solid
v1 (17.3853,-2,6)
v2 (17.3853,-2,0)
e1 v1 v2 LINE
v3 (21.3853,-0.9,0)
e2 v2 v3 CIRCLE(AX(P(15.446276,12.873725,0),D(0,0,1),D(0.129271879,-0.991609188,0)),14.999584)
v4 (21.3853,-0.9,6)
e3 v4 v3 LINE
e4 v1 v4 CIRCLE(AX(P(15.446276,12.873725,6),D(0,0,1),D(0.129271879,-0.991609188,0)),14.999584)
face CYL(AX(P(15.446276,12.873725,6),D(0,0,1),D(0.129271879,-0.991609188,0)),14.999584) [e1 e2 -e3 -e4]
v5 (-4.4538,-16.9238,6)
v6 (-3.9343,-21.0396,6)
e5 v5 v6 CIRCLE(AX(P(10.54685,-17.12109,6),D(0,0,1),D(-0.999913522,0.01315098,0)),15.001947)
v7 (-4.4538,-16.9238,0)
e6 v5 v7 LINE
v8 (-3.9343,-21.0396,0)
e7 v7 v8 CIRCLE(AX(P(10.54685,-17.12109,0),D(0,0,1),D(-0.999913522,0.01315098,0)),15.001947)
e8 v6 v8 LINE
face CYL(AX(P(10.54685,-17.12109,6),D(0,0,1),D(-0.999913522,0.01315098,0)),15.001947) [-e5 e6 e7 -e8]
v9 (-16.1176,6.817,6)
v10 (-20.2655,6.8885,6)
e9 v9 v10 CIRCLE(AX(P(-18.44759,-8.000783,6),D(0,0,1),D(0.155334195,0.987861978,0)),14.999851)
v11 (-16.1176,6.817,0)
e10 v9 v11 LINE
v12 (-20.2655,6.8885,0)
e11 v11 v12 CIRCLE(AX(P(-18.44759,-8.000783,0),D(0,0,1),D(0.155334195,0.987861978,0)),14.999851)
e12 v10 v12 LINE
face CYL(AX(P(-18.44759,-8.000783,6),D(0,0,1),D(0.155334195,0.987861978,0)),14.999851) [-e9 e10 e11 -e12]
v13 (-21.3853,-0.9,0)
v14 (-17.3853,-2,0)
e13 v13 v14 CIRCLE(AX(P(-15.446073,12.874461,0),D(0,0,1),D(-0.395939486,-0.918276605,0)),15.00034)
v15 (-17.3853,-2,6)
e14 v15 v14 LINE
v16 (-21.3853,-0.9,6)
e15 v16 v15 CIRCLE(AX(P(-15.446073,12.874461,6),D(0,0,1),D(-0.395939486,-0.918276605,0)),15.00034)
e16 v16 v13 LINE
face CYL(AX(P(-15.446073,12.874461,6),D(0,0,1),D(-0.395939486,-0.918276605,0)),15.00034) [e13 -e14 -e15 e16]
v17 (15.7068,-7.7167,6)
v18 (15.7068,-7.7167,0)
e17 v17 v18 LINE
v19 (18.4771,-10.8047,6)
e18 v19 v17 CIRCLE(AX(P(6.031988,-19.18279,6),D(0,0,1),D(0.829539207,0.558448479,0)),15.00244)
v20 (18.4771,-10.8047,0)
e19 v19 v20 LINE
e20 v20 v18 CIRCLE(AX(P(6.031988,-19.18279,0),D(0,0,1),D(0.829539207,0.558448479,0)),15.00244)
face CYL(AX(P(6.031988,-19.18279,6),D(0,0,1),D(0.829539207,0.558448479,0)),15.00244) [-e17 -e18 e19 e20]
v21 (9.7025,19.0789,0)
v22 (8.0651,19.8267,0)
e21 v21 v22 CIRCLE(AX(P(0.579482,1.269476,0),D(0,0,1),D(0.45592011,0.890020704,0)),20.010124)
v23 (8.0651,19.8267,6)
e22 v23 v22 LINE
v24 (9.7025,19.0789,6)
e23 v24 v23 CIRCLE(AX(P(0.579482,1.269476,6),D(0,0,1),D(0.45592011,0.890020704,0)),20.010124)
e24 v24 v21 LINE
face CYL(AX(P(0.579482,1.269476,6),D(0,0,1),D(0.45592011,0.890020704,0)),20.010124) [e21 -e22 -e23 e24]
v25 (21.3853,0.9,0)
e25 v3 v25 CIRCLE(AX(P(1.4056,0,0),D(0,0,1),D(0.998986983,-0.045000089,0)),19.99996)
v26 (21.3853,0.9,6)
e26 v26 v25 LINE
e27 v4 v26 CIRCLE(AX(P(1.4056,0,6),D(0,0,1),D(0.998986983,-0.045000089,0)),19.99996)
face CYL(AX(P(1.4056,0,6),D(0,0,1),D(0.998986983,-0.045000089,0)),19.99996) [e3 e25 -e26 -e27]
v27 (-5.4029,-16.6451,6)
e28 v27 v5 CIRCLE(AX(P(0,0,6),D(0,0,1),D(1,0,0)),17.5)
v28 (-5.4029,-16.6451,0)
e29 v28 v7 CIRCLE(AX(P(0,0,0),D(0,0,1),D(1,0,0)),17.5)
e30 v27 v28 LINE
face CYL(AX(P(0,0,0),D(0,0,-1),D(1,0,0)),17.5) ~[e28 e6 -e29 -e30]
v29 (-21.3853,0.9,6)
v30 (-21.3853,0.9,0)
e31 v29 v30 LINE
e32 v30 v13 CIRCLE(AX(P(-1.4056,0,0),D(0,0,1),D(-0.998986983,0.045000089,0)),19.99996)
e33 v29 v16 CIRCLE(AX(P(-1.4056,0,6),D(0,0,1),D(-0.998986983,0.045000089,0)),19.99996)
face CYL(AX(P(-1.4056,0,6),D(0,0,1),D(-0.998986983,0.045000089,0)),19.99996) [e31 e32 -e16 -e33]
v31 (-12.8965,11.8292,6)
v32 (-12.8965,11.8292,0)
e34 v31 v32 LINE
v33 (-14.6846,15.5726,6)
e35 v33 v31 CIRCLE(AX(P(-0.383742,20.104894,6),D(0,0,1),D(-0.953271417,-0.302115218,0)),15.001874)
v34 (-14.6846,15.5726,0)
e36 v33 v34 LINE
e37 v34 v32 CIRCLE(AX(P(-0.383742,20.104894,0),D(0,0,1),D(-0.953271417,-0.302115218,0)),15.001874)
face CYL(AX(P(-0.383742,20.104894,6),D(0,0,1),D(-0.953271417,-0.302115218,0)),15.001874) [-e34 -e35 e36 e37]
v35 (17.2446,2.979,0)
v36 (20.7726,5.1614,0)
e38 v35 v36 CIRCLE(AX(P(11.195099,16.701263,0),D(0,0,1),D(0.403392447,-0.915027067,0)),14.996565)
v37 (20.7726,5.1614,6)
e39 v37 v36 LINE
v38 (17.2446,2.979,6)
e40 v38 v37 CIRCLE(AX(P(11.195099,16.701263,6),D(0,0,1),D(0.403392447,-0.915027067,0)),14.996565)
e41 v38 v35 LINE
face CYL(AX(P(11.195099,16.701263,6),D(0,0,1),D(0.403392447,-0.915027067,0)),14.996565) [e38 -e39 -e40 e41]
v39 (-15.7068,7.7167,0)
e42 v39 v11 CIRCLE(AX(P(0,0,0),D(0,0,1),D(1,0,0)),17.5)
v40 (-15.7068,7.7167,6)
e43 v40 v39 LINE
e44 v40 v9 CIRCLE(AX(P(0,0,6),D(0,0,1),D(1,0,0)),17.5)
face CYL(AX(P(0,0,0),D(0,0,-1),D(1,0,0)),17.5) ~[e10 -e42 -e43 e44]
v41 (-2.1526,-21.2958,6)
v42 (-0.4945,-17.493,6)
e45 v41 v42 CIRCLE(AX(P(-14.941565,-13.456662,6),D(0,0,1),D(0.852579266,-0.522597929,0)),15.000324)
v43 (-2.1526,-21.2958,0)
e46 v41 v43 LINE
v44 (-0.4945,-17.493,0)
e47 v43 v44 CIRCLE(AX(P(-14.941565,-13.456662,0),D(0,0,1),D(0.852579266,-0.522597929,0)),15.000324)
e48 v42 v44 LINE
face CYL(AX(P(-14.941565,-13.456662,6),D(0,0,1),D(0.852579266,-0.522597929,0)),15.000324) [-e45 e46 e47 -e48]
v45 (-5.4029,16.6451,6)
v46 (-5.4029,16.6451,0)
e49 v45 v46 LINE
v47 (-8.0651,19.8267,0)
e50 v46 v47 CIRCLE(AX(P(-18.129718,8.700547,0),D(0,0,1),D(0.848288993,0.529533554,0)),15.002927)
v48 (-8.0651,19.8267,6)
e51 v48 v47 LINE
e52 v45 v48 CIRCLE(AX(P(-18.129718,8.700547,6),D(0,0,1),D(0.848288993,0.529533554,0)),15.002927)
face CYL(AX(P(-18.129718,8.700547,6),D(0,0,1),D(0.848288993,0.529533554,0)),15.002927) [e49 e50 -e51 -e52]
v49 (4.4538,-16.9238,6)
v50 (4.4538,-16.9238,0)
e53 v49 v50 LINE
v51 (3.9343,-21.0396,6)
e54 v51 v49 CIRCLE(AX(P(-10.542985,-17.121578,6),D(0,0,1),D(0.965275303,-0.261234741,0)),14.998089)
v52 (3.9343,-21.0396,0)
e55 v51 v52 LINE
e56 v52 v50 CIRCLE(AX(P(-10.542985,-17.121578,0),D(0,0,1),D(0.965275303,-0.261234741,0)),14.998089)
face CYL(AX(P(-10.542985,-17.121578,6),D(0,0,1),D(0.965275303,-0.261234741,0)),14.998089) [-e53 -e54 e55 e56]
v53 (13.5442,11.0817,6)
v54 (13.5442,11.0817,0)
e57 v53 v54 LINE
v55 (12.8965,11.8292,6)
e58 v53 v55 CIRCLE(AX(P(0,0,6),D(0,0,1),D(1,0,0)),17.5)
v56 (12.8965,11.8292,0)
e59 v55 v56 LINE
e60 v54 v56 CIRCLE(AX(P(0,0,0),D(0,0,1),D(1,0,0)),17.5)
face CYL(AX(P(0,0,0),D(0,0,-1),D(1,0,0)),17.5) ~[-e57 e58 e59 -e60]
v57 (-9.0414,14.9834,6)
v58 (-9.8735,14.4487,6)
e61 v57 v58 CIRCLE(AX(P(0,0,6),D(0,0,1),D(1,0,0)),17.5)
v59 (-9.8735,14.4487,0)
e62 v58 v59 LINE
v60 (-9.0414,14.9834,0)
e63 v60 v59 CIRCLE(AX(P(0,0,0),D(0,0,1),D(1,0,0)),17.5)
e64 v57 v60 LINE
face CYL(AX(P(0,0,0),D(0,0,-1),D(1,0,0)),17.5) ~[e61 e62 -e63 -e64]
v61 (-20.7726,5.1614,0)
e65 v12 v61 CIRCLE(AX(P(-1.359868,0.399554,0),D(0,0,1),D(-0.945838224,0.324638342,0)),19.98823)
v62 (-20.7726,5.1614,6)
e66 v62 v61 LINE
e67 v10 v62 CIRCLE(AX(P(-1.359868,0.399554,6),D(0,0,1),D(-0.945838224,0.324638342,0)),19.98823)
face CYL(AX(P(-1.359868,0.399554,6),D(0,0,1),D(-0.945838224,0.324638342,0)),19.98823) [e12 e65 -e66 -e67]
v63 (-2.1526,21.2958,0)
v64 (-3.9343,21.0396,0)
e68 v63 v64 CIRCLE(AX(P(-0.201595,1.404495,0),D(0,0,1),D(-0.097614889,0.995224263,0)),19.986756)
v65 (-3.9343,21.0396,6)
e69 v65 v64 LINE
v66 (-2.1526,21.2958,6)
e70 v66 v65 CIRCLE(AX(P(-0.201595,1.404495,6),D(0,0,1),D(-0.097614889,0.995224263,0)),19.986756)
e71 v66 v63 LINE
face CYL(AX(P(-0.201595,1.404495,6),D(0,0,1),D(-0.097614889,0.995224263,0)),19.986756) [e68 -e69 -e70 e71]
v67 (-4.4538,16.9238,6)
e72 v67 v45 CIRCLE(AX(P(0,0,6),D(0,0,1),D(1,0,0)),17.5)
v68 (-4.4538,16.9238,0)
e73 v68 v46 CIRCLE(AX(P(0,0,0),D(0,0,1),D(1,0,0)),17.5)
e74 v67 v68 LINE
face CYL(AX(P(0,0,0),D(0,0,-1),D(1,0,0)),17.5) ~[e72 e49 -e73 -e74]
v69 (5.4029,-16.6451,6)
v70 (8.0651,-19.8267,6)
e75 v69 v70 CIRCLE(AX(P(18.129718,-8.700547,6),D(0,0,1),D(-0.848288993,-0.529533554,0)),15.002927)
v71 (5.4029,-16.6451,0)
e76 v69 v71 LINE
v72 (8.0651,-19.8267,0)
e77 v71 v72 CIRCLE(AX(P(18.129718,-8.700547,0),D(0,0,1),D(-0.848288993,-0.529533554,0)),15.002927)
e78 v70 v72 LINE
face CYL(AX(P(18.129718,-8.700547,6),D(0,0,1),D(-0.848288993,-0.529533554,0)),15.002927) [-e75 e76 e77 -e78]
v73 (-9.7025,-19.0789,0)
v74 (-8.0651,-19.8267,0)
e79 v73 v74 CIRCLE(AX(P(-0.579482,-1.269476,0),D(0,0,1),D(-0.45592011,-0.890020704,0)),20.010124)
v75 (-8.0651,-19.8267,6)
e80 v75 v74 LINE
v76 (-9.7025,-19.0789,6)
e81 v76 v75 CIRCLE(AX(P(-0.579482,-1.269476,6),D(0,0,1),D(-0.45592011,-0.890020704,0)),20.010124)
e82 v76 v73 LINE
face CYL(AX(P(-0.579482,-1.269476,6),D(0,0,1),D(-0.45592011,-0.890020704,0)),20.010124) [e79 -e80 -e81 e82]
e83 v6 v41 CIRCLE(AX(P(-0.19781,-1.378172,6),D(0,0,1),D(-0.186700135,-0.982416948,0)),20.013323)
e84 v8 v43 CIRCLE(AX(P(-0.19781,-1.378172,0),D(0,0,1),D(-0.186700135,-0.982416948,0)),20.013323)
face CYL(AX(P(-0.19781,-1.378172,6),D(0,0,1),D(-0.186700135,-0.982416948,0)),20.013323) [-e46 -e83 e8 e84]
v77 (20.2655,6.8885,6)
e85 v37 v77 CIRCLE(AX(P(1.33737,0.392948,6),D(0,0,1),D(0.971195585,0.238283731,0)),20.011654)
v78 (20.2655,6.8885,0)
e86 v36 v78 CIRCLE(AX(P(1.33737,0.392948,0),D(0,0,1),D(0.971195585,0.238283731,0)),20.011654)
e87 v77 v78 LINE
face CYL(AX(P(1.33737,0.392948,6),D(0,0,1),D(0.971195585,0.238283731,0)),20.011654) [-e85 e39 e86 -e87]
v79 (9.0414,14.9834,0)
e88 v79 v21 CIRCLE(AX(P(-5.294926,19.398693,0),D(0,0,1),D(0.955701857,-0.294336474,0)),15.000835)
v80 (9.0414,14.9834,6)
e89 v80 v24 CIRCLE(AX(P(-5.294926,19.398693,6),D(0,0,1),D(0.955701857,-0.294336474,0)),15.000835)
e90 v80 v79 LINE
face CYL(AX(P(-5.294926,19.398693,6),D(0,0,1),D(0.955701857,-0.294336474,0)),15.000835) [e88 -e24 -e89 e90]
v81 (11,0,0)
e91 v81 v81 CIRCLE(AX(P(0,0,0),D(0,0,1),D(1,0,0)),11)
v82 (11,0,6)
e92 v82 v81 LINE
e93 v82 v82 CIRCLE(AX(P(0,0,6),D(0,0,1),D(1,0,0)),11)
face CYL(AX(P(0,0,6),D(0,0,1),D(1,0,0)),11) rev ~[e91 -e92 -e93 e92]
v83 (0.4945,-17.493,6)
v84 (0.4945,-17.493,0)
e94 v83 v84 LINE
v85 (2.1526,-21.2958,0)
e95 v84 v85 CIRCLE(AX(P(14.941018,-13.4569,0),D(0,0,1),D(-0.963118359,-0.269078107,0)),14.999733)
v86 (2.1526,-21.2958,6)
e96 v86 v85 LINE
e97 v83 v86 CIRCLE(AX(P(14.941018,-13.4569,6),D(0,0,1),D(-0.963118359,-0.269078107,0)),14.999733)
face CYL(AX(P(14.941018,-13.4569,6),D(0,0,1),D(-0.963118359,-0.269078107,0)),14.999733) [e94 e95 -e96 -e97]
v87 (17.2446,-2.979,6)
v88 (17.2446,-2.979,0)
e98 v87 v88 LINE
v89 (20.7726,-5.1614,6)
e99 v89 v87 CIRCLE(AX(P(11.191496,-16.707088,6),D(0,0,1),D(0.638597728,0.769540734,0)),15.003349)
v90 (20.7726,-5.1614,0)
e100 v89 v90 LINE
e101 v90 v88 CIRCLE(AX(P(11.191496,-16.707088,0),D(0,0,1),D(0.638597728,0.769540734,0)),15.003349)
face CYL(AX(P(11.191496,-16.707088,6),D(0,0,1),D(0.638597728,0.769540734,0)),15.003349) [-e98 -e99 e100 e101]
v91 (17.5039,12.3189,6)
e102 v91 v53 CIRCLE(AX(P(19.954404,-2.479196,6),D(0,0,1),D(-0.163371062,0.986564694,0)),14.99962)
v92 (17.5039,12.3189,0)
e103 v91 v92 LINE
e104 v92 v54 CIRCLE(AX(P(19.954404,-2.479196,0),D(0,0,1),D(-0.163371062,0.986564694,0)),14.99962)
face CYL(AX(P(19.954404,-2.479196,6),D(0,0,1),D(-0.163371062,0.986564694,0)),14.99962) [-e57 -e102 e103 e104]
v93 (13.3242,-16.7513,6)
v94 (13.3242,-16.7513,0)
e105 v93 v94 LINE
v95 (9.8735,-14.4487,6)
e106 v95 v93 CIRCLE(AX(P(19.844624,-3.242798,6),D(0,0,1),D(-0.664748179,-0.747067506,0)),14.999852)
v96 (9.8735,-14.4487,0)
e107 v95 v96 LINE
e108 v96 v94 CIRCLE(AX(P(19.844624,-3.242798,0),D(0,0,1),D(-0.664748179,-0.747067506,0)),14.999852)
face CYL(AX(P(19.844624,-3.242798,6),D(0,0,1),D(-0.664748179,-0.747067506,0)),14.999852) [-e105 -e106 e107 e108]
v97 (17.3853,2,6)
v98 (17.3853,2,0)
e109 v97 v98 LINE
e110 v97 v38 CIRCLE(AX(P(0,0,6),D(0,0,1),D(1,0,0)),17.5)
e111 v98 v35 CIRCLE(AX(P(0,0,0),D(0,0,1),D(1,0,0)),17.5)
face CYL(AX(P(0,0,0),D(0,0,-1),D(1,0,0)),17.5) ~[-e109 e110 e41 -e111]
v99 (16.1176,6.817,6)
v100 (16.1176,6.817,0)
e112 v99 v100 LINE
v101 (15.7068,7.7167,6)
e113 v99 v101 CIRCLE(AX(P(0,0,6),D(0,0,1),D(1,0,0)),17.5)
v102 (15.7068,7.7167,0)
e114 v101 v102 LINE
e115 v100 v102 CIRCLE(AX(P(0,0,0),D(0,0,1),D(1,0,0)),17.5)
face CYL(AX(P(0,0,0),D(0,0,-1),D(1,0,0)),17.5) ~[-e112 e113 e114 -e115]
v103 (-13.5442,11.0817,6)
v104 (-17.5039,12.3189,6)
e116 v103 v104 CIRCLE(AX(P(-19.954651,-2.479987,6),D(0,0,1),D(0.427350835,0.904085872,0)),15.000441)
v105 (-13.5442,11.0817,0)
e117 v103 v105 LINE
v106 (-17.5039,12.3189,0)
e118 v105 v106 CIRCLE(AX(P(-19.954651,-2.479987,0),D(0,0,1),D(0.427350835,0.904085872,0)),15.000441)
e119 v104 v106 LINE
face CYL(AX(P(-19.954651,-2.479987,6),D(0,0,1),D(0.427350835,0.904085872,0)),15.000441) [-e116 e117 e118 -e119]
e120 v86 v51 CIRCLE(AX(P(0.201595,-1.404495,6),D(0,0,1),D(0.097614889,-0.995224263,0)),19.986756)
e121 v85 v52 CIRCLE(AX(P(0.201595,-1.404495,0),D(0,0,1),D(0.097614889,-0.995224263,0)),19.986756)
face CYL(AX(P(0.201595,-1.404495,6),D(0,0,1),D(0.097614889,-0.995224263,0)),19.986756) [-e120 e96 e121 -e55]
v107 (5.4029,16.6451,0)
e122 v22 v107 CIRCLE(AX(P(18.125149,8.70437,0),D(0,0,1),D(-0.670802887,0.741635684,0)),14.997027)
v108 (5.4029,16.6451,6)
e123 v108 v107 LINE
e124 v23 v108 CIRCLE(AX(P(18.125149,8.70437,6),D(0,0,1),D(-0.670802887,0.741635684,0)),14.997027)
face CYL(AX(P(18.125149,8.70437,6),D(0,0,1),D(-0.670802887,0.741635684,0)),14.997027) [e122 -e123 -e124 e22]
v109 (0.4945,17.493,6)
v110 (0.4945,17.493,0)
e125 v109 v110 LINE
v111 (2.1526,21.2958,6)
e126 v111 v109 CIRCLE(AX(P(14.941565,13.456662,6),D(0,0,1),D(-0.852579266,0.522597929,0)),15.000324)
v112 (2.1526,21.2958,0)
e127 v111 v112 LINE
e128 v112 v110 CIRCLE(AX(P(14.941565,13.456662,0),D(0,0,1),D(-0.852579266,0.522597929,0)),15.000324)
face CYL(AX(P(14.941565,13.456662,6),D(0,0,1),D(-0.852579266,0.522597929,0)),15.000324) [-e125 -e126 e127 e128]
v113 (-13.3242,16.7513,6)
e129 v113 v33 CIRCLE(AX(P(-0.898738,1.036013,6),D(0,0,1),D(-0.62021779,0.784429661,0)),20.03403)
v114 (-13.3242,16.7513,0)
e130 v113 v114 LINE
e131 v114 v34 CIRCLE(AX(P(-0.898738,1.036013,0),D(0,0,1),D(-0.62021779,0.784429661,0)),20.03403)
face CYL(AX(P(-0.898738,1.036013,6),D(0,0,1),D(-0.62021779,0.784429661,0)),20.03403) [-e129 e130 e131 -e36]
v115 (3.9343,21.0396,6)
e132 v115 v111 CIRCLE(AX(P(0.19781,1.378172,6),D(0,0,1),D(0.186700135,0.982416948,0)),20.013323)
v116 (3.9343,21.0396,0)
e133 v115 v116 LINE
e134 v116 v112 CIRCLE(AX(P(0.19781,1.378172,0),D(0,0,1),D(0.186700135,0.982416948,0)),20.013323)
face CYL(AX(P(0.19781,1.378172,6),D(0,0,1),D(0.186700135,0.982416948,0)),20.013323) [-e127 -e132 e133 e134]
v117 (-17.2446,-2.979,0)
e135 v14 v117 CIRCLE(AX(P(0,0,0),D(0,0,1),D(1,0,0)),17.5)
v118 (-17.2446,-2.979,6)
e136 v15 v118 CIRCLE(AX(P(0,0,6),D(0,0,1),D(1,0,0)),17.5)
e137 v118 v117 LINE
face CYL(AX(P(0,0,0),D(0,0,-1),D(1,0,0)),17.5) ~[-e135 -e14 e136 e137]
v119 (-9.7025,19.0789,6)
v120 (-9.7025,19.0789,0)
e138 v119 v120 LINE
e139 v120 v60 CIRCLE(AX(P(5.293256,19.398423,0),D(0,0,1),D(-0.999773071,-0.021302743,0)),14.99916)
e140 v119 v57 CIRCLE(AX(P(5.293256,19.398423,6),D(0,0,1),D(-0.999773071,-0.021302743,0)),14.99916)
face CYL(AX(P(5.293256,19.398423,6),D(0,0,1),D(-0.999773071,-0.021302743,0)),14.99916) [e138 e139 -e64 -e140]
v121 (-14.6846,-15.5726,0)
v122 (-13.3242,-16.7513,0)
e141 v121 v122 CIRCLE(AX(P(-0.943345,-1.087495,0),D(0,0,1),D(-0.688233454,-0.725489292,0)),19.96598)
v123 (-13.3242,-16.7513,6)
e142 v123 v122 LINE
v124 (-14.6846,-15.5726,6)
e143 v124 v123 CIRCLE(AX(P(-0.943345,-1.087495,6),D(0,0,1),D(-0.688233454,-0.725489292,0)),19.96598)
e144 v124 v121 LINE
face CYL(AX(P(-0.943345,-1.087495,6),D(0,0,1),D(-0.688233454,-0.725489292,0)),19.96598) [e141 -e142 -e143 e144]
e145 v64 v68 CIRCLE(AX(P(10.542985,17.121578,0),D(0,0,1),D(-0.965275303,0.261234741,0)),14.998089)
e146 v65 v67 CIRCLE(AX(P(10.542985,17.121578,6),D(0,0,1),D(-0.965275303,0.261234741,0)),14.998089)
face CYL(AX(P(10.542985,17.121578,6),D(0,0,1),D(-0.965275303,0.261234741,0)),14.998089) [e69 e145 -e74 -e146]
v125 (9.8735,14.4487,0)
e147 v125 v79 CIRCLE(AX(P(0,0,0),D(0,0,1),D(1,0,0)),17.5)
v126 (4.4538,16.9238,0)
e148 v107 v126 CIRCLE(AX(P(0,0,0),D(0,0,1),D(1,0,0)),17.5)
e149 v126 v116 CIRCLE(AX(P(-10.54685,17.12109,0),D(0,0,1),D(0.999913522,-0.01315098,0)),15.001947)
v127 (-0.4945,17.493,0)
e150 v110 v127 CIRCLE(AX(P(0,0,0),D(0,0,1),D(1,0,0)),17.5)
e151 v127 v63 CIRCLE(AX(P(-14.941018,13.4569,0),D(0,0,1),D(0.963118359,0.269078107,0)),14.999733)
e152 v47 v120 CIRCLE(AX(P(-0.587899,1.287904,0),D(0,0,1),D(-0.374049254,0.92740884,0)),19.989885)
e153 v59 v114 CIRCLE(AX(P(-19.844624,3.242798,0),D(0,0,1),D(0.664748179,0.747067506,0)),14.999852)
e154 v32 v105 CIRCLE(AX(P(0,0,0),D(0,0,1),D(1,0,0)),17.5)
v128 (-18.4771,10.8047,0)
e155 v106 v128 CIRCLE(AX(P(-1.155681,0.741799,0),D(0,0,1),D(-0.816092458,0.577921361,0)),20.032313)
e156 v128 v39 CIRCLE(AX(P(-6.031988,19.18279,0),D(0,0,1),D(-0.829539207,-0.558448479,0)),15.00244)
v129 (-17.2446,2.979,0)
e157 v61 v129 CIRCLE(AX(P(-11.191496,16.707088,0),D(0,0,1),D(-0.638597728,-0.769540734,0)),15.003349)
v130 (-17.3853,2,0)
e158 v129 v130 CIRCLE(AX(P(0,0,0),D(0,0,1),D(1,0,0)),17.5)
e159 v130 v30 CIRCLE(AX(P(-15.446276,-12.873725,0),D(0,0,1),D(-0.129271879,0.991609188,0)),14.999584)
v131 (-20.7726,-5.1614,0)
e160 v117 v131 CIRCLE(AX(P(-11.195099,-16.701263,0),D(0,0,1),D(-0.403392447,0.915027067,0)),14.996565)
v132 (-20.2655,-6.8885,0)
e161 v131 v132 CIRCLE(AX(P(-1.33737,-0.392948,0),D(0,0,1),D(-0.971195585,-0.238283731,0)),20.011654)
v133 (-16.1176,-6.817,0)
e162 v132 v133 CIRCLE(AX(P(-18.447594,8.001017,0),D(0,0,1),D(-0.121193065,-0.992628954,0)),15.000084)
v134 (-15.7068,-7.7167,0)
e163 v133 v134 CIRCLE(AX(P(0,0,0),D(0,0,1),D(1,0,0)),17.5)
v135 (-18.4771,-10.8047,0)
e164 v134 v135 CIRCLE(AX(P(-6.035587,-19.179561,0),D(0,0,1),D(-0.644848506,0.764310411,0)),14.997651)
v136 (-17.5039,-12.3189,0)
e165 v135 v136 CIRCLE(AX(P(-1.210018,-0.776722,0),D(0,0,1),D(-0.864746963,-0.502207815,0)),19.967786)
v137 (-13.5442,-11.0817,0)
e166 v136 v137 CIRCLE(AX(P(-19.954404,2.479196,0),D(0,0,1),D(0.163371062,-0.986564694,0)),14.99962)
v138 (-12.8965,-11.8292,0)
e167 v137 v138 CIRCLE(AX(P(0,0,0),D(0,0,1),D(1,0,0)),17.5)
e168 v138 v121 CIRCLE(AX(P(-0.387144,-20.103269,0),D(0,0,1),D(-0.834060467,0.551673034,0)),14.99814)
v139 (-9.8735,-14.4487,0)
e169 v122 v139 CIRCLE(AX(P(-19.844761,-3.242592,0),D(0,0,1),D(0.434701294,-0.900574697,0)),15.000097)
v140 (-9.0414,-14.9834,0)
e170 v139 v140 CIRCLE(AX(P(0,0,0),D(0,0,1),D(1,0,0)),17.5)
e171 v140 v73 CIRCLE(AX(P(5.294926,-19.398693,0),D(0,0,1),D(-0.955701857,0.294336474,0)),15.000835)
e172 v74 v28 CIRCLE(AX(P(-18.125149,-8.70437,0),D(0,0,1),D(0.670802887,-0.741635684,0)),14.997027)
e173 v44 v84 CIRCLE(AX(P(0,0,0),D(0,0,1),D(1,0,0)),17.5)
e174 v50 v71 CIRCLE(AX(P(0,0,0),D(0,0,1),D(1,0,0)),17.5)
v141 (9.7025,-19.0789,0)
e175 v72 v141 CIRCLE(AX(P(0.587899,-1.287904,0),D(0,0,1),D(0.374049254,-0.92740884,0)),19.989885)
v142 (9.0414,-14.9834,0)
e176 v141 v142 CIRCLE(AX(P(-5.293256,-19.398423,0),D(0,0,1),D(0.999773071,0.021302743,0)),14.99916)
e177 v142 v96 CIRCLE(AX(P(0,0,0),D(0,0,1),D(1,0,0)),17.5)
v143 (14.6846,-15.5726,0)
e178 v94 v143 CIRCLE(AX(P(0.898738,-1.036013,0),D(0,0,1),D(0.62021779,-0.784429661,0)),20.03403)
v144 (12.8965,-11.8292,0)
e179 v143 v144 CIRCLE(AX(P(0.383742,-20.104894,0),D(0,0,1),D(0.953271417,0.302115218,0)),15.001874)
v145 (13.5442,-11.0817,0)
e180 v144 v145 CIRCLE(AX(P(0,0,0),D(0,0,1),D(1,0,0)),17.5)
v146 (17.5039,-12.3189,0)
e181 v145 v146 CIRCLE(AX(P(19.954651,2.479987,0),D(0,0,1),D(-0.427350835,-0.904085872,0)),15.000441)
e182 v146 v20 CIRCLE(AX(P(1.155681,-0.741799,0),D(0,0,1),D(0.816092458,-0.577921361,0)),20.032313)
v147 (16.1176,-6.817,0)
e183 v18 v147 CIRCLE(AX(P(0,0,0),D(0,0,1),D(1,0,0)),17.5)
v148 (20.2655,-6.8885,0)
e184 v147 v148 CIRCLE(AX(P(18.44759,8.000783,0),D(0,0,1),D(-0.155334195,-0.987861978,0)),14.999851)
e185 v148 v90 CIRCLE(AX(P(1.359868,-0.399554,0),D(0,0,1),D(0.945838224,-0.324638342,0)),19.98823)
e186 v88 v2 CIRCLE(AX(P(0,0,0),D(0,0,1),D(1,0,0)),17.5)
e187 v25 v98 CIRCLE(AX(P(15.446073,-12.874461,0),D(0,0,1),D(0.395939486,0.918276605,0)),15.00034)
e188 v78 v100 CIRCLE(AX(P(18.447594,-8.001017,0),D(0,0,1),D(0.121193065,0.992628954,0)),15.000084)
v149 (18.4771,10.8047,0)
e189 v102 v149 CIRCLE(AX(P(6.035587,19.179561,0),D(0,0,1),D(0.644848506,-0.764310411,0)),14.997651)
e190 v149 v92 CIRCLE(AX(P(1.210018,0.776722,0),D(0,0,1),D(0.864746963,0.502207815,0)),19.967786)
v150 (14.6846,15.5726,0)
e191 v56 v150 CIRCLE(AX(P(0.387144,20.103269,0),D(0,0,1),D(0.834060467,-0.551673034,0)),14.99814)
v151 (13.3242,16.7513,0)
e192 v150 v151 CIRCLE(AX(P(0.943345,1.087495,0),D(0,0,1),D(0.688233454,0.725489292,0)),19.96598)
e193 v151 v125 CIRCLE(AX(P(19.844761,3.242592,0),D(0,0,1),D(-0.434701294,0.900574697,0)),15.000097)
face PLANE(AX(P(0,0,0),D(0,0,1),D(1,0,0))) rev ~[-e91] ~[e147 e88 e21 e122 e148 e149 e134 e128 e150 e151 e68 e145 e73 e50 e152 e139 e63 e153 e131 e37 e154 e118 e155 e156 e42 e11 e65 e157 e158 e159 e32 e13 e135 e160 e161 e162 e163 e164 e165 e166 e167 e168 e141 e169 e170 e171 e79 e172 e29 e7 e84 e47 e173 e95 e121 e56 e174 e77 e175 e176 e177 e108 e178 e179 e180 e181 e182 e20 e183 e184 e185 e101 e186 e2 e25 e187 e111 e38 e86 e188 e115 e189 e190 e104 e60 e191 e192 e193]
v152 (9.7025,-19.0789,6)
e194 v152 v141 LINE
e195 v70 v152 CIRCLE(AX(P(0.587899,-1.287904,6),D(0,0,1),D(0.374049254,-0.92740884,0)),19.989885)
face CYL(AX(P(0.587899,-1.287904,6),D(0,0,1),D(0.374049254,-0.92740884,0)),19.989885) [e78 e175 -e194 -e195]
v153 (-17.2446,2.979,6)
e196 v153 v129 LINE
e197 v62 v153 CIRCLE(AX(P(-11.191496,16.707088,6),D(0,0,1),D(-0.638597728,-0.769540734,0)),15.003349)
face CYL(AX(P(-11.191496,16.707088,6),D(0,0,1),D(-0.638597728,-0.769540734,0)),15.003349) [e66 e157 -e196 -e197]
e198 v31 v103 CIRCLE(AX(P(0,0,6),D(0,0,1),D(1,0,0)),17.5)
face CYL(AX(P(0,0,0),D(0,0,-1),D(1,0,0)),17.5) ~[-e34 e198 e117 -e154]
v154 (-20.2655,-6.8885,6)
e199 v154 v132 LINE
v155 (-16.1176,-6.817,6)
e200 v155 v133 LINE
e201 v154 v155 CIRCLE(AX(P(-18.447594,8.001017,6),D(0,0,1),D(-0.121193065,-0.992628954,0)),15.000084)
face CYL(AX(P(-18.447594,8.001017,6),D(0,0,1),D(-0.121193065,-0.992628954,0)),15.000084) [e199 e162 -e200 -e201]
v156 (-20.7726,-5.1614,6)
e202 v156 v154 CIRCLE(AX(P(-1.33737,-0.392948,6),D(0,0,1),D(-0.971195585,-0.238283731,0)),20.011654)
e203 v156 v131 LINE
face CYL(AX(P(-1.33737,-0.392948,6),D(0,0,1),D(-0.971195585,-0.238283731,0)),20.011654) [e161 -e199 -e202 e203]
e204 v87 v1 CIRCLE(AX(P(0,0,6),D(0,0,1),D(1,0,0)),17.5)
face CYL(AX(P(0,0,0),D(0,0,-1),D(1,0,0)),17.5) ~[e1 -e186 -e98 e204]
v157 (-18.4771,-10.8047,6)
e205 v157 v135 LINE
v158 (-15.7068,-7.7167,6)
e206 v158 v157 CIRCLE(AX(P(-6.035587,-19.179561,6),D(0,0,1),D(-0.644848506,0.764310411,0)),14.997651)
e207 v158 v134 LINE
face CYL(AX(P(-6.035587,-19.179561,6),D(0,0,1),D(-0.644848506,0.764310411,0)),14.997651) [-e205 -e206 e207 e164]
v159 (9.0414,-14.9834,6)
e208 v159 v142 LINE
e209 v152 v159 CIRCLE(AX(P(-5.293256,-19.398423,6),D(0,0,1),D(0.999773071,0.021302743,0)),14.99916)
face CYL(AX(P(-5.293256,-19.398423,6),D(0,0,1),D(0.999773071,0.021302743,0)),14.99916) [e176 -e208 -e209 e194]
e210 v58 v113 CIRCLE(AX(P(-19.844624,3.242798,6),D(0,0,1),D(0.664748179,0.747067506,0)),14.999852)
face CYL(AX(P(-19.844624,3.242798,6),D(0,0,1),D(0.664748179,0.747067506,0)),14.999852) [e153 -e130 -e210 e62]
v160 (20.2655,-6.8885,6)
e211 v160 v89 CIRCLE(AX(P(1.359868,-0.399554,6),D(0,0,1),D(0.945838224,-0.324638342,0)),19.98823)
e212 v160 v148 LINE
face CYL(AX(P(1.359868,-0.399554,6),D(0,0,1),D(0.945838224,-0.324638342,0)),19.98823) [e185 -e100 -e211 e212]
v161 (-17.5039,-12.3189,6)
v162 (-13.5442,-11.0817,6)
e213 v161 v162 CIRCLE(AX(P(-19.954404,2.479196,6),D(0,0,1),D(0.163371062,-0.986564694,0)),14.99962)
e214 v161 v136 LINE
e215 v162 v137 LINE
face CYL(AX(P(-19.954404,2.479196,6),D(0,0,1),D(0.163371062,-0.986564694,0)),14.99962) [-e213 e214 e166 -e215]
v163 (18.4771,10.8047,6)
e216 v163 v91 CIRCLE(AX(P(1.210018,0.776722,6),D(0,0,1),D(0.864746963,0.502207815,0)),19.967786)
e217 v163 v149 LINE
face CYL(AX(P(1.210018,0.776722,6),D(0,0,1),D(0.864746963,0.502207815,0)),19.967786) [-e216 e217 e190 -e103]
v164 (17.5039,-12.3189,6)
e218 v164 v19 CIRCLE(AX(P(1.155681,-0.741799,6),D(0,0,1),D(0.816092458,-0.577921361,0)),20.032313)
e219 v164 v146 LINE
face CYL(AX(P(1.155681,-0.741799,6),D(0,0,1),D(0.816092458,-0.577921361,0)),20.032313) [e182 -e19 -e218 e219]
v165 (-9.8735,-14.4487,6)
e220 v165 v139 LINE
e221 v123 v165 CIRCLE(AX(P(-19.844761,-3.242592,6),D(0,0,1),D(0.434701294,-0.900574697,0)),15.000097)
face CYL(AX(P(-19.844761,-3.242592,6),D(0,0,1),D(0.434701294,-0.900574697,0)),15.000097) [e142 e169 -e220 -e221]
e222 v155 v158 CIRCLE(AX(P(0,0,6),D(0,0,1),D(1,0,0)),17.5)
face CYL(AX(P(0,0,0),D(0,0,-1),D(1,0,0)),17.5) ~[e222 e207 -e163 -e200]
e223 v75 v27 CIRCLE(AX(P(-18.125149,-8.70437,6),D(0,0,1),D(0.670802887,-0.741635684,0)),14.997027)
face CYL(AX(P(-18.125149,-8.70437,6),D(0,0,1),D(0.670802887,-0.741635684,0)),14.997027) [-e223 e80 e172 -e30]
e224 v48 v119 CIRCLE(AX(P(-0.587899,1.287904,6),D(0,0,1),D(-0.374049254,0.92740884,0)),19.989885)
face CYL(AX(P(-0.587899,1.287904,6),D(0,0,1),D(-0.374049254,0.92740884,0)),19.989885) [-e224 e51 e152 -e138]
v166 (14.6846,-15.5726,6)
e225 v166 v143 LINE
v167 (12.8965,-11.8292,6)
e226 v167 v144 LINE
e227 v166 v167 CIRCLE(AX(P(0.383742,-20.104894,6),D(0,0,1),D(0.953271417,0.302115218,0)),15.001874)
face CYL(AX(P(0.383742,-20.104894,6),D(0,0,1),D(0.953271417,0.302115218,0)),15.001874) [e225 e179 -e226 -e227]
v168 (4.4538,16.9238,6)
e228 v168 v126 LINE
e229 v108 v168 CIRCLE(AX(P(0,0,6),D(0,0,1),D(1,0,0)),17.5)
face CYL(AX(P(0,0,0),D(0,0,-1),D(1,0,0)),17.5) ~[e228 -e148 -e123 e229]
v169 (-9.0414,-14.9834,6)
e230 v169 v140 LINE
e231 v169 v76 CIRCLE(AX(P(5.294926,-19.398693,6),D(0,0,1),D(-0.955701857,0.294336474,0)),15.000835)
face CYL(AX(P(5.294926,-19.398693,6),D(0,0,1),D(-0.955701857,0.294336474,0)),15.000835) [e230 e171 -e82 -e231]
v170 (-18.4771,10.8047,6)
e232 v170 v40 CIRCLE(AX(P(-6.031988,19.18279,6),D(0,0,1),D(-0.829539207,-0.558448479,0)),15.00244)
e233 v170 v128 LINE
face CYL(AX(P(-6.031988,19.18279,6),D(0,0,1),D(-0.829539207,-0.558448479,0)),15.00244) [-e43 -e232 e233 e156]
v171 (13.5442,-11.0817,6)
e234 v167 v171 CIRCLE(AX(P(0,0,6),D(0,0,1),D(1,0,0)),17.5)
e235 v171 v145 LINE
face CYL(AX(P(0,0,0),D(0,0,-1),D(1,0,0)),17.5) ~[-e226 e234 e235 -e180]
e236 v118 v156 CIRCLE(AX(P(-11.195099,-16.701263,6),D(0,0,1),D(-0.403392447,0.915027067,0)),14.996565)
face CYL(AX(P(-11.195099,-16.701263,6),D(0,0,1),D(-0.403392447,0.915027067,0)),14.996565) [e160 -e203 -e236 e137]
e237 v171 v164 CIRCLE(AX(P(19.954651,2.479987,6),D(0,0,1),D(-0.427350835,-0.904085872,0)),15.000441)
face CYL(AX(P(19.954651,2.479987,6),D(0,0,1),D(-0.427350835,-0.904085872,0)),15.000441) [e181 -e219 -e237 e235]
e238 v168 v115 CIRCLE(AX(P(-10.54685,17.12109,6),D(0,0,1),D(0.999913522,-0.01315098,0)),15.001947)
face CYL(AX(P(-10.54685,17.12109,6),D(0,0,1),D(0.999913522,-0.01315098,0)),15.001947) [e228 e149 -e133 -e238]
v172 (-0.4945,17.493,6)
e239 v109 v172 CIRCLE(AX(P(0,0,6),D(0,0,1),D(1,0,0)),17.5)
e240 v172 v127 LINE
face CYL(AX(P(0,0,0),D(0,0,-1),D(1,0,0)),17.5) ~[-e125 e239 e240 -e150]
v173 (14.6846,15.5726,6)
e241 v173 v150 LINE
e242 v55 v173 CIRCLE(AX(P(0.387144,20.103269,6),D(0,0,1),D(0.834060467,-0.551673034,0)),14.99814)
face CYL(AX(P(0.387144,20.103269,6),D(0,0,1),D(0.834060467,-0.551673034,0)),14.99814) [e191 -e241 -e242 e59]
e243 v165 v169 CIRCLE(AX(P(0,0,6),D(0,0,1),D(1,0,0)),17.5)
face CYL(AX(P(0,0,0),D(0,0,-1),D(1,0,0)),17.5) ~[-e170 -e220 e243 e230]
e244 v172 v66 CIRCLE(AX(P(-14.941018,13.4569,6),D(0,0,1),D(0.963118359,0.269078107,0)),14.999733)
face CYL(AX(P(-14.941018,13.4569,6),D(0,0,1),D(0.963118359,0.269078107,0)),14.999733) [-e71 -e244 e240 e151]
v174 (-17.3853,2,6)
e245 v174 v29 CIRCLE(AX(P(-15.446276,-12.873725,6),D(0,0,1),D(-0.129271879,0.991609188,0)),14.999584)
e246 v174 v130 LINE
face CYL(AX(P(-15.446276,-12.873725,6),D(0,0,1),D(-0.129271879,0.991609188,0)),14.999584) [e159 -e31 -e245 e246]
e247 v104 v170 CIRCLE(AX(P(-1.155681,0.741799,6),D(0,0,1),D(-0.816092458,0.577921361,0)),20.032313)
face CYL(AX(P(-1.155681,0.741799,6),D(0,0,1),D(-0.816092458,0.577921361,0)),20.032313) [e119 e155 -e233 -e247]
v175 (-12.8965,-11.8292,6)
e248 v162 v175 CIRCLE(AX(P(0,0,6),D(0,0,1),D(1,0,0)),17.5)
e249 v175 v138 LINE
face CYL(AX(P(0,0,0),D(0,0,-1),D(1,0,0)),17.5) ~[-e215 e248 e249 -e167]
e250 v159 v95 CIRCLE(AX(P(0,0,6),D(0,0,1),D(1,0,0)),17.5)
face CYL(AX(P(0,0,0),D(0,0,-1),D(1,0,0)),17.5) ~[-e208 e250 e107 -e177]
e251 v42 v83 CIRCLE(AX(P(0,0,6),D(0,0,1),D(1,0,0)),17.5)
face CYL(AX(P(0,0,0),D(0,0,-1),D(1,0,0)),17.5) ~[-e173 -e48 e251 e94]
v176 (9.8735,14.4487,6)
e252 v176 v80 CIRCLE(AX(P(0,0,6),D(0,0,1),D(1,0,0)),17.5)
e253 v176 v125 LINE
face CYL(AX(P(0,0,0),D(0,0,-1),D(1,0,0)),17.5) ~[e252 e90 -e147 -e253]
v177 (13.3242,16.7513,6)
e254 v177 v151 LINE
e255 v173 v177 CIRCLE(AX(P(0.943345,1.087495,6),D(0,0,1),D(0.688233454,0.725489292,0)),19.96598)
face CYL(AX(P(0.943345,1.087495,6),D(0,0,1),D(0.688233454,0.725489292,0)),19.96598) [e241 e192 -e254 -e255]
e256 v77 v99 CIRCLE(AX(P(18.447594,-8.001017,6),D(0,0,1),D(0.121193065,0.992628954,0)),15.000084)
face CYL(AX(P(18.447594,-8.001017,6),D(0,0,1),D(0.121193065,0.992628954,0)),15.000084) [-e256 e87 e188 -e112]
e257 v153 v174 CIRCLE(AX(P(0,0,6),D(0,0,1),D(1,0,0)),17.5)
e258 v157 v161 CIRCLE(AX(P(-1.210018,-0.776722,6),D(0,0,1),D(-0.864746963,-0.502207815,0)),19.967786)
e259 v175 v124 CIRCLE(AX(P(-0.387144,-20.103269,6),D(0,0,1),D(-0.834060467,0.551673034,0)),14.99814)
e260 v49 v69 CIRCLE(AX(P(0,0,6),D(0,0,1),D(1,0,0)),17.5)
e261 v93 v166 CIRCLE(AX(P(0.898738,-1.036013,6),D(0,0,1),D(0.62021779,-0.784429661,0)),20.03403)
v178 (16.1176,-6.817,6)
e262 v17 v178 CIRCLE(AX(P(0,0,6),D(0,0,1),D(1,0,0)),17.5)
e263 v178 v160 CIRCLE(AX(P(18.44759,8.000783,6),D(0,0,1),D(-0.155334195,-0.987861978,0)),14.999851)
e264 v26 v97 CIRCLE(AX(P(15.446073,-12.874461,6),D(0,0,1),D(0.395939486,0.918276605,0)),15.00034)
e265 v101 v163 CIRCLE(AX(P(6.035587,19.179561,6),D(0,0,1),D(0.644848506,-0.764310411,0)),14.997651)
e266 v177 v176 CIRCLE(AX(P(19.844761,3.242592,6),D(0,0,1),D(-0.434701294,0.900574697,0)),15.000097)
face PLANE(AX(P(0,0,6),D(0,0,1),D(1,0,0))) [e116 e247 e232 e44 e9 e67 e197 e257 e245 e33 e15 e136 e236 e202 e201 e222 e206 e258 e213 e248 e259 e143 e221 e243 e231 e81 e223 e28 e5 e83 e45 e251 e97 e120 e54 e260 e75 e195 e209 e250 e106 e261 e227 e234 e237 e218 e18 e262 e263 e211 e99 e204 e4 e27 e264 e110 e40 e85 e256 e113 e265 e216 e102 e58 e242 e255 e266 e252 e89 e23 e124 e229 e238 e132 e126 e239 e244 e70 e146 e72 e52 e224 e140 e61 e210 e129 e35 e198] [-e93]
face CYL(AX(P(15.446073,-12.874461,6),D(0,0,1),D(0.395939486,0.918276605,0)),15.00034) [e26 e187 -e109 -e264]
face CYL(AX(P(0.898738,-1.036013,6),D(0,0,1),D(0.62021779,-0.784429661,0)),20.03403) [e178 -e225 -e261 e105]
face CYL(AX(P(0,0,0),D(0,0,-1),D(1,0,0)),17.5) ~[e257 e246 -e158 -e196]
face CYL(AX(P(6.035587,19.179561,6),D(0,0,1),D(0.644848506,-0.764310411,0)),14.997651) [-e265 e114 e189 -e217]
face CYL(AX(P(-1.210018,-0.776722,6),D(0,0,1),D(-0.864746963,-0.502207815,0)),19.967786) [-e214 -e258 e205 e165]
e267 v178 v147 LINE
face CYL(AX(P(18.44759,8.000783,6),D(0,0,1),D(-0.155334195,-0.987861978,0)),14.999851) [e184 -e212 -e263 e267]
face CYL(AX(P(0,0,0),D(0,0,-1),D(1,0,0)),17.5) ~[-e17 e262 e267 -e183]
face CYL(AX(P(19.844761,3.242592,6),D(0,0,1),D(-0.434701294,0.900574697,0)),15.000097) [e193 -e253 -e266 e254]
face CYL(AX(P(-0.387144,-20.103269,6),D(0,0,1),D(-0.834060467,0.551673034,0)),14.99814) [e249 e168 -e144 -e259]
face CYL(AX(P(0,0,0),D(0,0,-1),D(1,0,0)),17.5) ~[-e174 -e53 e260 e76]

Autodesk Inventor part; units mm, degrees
ref_plane "YZ Plane" through (0, 0, 0) normal (1, 0, 0) x (0, 1, 0)
ref_plane "XZ Plane" through (0, 0, 0) normal (0, 1, 0) x (-1, 0, 0)
ref_plane "XY Plane" through (0, 0, 0) normal (0, 0, 1) x (1, 0, 0)
sketch "Sketch1" plane through (0, 0, 0) normal (0, 0, 1) x (1, 0, 0)
  circle A0 centre (0, 0) radius 17.5
  dimension "d0" = 35
extrude "Extrusion1" add sketch "Sketch1" along normal blind 6
sketch "Sketch7" plane through (0, 0, 6) normal (0, 0, 1) x (1, 0, 0)
  circle A0 centre (0, 0) radius 17.5 construction
  line L0 (0, 0) -> (15, 0) construction
  circle A1 centre (0, 0) radius 17.5 projected
  arc A2 (21.3853, 0.9) -> (17.3853, 2) centre (15.4462, -12.8741) ccw
  arc A3 (21.3853, -0.9) -> (21.3853, 0.9) centre (1.4056, 0) ccw
  arc A4 (17.3853, -2) -> (21.3853, -0.9) centre (15.4462, 12.8741) ccw
  arc A5 (17.3853, -2) -> (17.3853, 2) centre (0, 0) ccw
  arc A6 (20.2655, 6.8885) -> (16.1176, 6.817) centre (18.4476, -8.0009) ccw
  arc A7 (17.2446, 2.979) -> (16.1176, 6.817) centre (0, 0) ccw
  arc A8 (17.2446, 2.979) -> (20.7726, 5.1614) centre (11.1935, 16.7043) ccw
  arc A9 (20.7726, 5.1614) -> (20.2655, 6.8885) centre (1.3487, 0.396) ccw
  arc A10 (17.5039, 12.3189) -> (13.5442, 11.0817) centre (19.9545, -2.4796) ccw
  arc A11 (15.7068, 7.7167) -> (13.5442, 11.0817) centre (0, 0) ccw
  arc A12 (15.7068, 7.7167) -> (18.4771, 10.8047) centre (6.0339, 19.1813) ccw
  arc A13 (18.4771, 10.8047) -> (17.5039, 12.3189) centre (1.1825, 0.7599) ccw
  arc A14 (13.3242, 16.7513) -> (9.8735, 14.4487) centre (19.8447, 3.2427) ccw
  arc A15 (12.8965, 11.8292) -> (9.8735, 14.4487) centre (0, 0) ccw
  arc A16 (12.8965, 11.8292) -> (14.6846, 15.5726) centre (0.3855, 20.1042) ccw
  arc A17 (14.6846, 15.5726) -> (13.3242, 16.7513) centre (0.9205, 1.0623) ccw
  arc A18 (8.0651, 19.8267) -> (5.4029, 16.6451) centre (18.1273, 8.7023) ccw
  arc A19 (9.0414, 14.9834) -> (5.4029, 16.6451) centre (0, 0) ccw
  arc A20 (9.0414, 14.9834) -> (9.7025, 19.0789) centre (-5.2941, 19.3985) ccw
  arc A21 (9.7025, 19.0789) -> (8.0651, 19.8267) centre (0.5839, 1.2786) ccw
  arc A22 (2.1526, 21.2958) -> (0.4945, 17.493) centre (14.9413, 13.4568) ccw
  arc A23 (4.4538, 16.9238) -> (0.4945, 17.493) centre (0, 0) ccw
  arc A24 (4.4538, 16.9238) -> (3.9343, 21.0396) centre (-10.5449, 17.1212) ccw
  arc A25 (3.9343, 21.0396) -> (2.1526, 21.2958) centre (0.2, 1.3913) ccw
  arc A26 (-3.9343, 21.0396) -> (-4.4538, 16.9238) centre (10.5449, 17.1212) ccw
  arc A27 (-0.4945, 17.493) -> (-4.4538, 16.9238) centre (0, 0) ccw
  arc A28 (-0.4945, 17.493) -> (-2.1526, 21.2958) centre (-14.9413, 13.4568) ccw
  arc A29 (-2.1526, 21.2958) -> (-3.9343, 21.0396) centre (-0.2, 1.3913) ccw
  arc A30 (-9.7025, 19.0789) -> (-9.0414, 14.9834) centre (5.2941, 19.3985) ccw
  arc A31 (-5.4029, 16.6451) -> (-9.0414, 14.9834) centre (0, 0) ccw
  arc A32 (-5.4029, 16.6451) -> (-8.0651, 19.8267) centre (-18.1273, 8.7023) ccw
  arc A33 (-8.0651, 19.8267) -> (-9.7025, 19.0789) centre (-0.5839, 1.2786) ccw
  arc A34 (-14.6846, 15.5726) -> (-12.8965, 11.8292) centre (-0.3855, 20.1042) ccw
  arc A35 (-9.8735, 14.4487) -> (-12.8965, 11.8292) centre (0, 0) ccw
  arc A36 (-9.8735, 14.4487) -> (-13.3242, 16.7513) centre (-19.8447, 3.2427) ccw
  arc A37 (-13.3242, 16.7513) -> (-14.6846, 15.5726) centre (-0.9205, 1.0623) ccw
  arc A38 (-18.4771, 10.8047) -> (-15.7068, 7.7167) centre (-6.0339, 19.1813) ccw
  arc A39 (-13.5442, 11.0817) -> (-15.7068, 7.7167) centre (0, 0) ccw
  arc A40 (-13.5442, 11.0817) -> (-17.5039, 12.3189) centre (-19.9545, -2.4796) ccw
  arc A41 (-17.5039, 12.3189) -> (-18.4771, 10.8047) centre (-1.1825, 0.7599) ccw
  arc A42 (-20.7726, 5.1614) -> (-17.2446, 2.979) centre (-11.1935, 16.7043) ccw
  arc A43 (-16.1176, 6.817) -> (-17.2446, 2.979) centre (0, 0) ccw
  arc A44 (-16.1176, 6.817) -> (-20.2655, 6.8885) centre (-18.4476, -8.0009) ccw
  arc A45 (-20.2655, 6.8885) -> (-20.7726, 5.1614) centre (-1.3487, 0.396) ccw
  arc A46 (-21.3853, -0.9) -> (-17.3853, -2) centre (-15.4462, 12.8741) ccw
  arc A47 (-17.3853, 2) -> (-17.3853, -2) centre (0, 0) ccw
  arc A48 (-17.3853, 2) -> (-21.3853, 0.9) centre (-15.4462, -12.8741) ccw
  arc A49 (-21.3853, 0.9) -> (-21.3853, -0.9) centre (-1.4056, 0) ccw
  arc A50 (-20.2655, -6.8885) -> (-16.1176, -6.817) centre (-18.4476, 8.0009) ccw
  arc A51 (-17.2446, -2.979) -> (-16.1176, -6.817) centre (0, 0) ccw
  arc A52 (-17.2446, -2.979) -> (-20.7726, -5.1614) centre (-11.1935, -16.7043) ccw
  arc A53 (-20.7726, -5.1614) -> (-20.2655, -6.8885) centre (-1.3487, -0.396) ccw
  arc A54 (-17.5039, -12.3189) -> (-13.5442, -11.0817) centre (-19.9545, 2.4796) ccw
  arc A55 (-15.7068, -7.7167) -> (-13.5442, -11.0817) centre (0, 0) ccw
  arc A56 (-15.7068, -7.7167) -> (-18.4771, -10.8047) centre (-6.0339, -19.1813) ccw
  arc A57 (-18.4771, -10.8047) -> (-17.5039, -12.3189) centre (-1.1825, -0.7599) ccw
  arc A58 (-13.3242, -16.7513) -> (-9.8735, -14.4487) centre (-19.8447, -3.2427) ccw
  arc A59 (-12.8965, -11.8292) -> (-9.8735, -14.4487) centre (0, 0) ccw
  arc A60 (-12.8965, -11.8292) -> (-14.6846, -15.5726) centre (-0.3855, -20.1042) ccw
  arc A61 (-14.6846, -15.5726) -> (-13.3242, -16.7513) centre (-0.9205, -1.0623) ccw
  arc A62 (-8.0651, -19.8267) -> (-5.4029, -16.6451) centre (-18.1273, -8.7023) ccw
  arc A63 (-9.0414, -14.9834) -> (-5.4029, -16.6451) centre (0, 0) ccw
  arc A64 (-9.0414, -14.9834) -> (-9.7025, -19.0789) centre (5.2941, -19.3985) ccw
  arc A65 (-9.7025, -19.0789) -> (-8.0651, -19.8267) centre (-0.5839, -1.2786) ccw
  arc A66 (-2.1526, -21.2958) -> (-0.4945, -17.493) centre (-14.9413, -13.4568) ccw
  arc A67 (-4.4538, -16.9238) -> (-0.4945, -17.493) centre (0, 0) ccw
  arc A68 (-4.4538, -16.9238) -> (-3.9343, -21.0396) centre (10.5449, -17.1212) ccw
  arc A69 (-3.9343, -21.0396) -> (-2.1526, -21.2958) centre (-0.2, -1.3913) ccw
  arc A70 (3.9343, -21.0396) -> (4.4538, -16.9238) centre (-10.5449, -17.1212) ccw
  arc A71 (0.4945, -17.493) -> (4.4538, -16.9238) centre (0, 0) ccw
  arc A72 (0.4945, -17.493) -> (2.1526, -21.2958) centre (14.9413, -13.4568) ccw
  arc A73 (2.1526, -21.2958) -> (3.9343, -21.0396) centre (0.2, -1.3913) ccw
  arc A74 (9.7025, -19.0789) -> (9.0414, -14.9834) centre (-5.2941, -19.3985) ccw
  arc A75 (5.4029, -16.6451) -> (9.0414, -14.9834) centre (0, 0) ccw
  arc A76 (5.4029, -16.6451) -> (8.0651, -19.8267) centre (18.1273, -8.7023) ccw
  arc A77 (8.0651, -19.8267) -> (9.7025, -19.0789) centre (0.5839, -1.2786) ccw
  arc A78 (14.6846, -15.5726) -> (12.8965, -11.8292) centre (0.3855, -20.1042) ccw
  arc A79 (9.8735, -14.4487) -> (12.8965, -11.8292) centre (0, 0) ccw
  arc A80 (9.8735, -14.4487) -> (13.3242, -16.7513) centre (19.8447, -3.2427) ccw
  arc A81 (13.3242, -16.7513) -> (14.6846, -15.5726) centre (0.9205, -1.0623) ccw
  arc A82 (18.4771, -10.8047) -> (15.7068, -7.7167) centre (6.0339, -19.1813) ccw
  arc A83 (13.5442, -11.0817) -> (15.7068, -7.7167) centre (0, 0) ccw
  arc A84 (13.5442, -11.0817) -> (17.5039, -12.3189) centre (19.9545, 2.4796) ccw
  arc A85 (17.5039, -12.3189) -> (18.4771, -10.8047) centre (1.1825, -0.7599) ccw
  arc A86 (20.7726, -5.1614) -> (17.2446, -2.979) centre (11.1935, -16.7043) ccw
  arc A87 (16.1176, -6.817) -> (17.2446, -2.979) centre (0, 0) ccw
  arc A88 (16.1176, -6.817) -> (20.2655, -6.8885) centre (18.4476, 8.0009) ccw
  arc A89 (20.2655, -6.8885) -> (20.7726, -5.1614) centre (1.3487, -0.396) ccw
  point P0 (21.4056, 0)
  point P1 (20.5385, 6.0307)
  point P2 (18.0075, 11.5727)
  point P3 (14.0177, 16.1773)
  point P4 (8.8922, 19.4712)
  point P5 (3.0463, 21.1877)
  point P6 (-3.0463, 21.1877)
  point P7 (-8.8922, 19.4712)
  point P8 (-14.0177, 16.1773)
  point P9 (-18.0075, 11.5727)
  point P10 (-20.5385, 6.0307)
  point P11 (-21.4056, 0)
  point P12 (-20.5385, -6.0307)
  point P13 (-18.0075, -11.5727)
  point P14 (-14.0177, -16.1773)
  point P15 (-8.8922, -19.4712)
  point P16 (-3.0463, -21.1877)
  point P17 (3.0463, -21.1877)
  point P18 (8.8922, -19.4712)
  point P19 (14.0177, -16.1773)
  point P20 (18.0075, -11.5727)
  point P21 (20.5385, -6.0307)
  dimension "d19" = 15
  dimension "d20" = 15
  dimension "d21" = 20
  dimension "d22" = 1.8
  dimension "d23" = 2
  dimension "d24" = 4
  dimension "d27" = 360
extrude "Extrusion7" add sketch "Sketch7" against normal blind 6 contours A1 A2 A3 A4 | A1 A6 A9 A8 | A86 A89 A88 A1 | A1 A10 A13 A12 | A82 A85 A84 A1 | A1 A14 A17 A16 | A78 A81 A80 A1 | A1 A18 A21 A20 | A74 A77 A76 A1 | A1 A22 A25 A24 | A70 A73 A72 A1 | A1 A26 A29 A28 | A66 A69 A68 A1 | A1 A30 A33 A32 | A62 A65 A64 A1 | A1 A34 A37 A36 | A58 A61 A60 A1 | A1 A38 A41 A40 | A54 A57 A56 A1 | A1 A42 A45 A44 | A50 A53 A52 A1 | A1 A46 A49 A48
sketch "Sketch9" plane through (0, 0, 6) normal (0, 0, 1) x (1, 0, 0)
  circle A0 centre (0, 0) radius 11
  dimension "d33" = 22
extrude "Extrusion9" cut sketch "Sketch9" against normal through all
properties part number "Motor Coupler" material "ABS Plastic"
